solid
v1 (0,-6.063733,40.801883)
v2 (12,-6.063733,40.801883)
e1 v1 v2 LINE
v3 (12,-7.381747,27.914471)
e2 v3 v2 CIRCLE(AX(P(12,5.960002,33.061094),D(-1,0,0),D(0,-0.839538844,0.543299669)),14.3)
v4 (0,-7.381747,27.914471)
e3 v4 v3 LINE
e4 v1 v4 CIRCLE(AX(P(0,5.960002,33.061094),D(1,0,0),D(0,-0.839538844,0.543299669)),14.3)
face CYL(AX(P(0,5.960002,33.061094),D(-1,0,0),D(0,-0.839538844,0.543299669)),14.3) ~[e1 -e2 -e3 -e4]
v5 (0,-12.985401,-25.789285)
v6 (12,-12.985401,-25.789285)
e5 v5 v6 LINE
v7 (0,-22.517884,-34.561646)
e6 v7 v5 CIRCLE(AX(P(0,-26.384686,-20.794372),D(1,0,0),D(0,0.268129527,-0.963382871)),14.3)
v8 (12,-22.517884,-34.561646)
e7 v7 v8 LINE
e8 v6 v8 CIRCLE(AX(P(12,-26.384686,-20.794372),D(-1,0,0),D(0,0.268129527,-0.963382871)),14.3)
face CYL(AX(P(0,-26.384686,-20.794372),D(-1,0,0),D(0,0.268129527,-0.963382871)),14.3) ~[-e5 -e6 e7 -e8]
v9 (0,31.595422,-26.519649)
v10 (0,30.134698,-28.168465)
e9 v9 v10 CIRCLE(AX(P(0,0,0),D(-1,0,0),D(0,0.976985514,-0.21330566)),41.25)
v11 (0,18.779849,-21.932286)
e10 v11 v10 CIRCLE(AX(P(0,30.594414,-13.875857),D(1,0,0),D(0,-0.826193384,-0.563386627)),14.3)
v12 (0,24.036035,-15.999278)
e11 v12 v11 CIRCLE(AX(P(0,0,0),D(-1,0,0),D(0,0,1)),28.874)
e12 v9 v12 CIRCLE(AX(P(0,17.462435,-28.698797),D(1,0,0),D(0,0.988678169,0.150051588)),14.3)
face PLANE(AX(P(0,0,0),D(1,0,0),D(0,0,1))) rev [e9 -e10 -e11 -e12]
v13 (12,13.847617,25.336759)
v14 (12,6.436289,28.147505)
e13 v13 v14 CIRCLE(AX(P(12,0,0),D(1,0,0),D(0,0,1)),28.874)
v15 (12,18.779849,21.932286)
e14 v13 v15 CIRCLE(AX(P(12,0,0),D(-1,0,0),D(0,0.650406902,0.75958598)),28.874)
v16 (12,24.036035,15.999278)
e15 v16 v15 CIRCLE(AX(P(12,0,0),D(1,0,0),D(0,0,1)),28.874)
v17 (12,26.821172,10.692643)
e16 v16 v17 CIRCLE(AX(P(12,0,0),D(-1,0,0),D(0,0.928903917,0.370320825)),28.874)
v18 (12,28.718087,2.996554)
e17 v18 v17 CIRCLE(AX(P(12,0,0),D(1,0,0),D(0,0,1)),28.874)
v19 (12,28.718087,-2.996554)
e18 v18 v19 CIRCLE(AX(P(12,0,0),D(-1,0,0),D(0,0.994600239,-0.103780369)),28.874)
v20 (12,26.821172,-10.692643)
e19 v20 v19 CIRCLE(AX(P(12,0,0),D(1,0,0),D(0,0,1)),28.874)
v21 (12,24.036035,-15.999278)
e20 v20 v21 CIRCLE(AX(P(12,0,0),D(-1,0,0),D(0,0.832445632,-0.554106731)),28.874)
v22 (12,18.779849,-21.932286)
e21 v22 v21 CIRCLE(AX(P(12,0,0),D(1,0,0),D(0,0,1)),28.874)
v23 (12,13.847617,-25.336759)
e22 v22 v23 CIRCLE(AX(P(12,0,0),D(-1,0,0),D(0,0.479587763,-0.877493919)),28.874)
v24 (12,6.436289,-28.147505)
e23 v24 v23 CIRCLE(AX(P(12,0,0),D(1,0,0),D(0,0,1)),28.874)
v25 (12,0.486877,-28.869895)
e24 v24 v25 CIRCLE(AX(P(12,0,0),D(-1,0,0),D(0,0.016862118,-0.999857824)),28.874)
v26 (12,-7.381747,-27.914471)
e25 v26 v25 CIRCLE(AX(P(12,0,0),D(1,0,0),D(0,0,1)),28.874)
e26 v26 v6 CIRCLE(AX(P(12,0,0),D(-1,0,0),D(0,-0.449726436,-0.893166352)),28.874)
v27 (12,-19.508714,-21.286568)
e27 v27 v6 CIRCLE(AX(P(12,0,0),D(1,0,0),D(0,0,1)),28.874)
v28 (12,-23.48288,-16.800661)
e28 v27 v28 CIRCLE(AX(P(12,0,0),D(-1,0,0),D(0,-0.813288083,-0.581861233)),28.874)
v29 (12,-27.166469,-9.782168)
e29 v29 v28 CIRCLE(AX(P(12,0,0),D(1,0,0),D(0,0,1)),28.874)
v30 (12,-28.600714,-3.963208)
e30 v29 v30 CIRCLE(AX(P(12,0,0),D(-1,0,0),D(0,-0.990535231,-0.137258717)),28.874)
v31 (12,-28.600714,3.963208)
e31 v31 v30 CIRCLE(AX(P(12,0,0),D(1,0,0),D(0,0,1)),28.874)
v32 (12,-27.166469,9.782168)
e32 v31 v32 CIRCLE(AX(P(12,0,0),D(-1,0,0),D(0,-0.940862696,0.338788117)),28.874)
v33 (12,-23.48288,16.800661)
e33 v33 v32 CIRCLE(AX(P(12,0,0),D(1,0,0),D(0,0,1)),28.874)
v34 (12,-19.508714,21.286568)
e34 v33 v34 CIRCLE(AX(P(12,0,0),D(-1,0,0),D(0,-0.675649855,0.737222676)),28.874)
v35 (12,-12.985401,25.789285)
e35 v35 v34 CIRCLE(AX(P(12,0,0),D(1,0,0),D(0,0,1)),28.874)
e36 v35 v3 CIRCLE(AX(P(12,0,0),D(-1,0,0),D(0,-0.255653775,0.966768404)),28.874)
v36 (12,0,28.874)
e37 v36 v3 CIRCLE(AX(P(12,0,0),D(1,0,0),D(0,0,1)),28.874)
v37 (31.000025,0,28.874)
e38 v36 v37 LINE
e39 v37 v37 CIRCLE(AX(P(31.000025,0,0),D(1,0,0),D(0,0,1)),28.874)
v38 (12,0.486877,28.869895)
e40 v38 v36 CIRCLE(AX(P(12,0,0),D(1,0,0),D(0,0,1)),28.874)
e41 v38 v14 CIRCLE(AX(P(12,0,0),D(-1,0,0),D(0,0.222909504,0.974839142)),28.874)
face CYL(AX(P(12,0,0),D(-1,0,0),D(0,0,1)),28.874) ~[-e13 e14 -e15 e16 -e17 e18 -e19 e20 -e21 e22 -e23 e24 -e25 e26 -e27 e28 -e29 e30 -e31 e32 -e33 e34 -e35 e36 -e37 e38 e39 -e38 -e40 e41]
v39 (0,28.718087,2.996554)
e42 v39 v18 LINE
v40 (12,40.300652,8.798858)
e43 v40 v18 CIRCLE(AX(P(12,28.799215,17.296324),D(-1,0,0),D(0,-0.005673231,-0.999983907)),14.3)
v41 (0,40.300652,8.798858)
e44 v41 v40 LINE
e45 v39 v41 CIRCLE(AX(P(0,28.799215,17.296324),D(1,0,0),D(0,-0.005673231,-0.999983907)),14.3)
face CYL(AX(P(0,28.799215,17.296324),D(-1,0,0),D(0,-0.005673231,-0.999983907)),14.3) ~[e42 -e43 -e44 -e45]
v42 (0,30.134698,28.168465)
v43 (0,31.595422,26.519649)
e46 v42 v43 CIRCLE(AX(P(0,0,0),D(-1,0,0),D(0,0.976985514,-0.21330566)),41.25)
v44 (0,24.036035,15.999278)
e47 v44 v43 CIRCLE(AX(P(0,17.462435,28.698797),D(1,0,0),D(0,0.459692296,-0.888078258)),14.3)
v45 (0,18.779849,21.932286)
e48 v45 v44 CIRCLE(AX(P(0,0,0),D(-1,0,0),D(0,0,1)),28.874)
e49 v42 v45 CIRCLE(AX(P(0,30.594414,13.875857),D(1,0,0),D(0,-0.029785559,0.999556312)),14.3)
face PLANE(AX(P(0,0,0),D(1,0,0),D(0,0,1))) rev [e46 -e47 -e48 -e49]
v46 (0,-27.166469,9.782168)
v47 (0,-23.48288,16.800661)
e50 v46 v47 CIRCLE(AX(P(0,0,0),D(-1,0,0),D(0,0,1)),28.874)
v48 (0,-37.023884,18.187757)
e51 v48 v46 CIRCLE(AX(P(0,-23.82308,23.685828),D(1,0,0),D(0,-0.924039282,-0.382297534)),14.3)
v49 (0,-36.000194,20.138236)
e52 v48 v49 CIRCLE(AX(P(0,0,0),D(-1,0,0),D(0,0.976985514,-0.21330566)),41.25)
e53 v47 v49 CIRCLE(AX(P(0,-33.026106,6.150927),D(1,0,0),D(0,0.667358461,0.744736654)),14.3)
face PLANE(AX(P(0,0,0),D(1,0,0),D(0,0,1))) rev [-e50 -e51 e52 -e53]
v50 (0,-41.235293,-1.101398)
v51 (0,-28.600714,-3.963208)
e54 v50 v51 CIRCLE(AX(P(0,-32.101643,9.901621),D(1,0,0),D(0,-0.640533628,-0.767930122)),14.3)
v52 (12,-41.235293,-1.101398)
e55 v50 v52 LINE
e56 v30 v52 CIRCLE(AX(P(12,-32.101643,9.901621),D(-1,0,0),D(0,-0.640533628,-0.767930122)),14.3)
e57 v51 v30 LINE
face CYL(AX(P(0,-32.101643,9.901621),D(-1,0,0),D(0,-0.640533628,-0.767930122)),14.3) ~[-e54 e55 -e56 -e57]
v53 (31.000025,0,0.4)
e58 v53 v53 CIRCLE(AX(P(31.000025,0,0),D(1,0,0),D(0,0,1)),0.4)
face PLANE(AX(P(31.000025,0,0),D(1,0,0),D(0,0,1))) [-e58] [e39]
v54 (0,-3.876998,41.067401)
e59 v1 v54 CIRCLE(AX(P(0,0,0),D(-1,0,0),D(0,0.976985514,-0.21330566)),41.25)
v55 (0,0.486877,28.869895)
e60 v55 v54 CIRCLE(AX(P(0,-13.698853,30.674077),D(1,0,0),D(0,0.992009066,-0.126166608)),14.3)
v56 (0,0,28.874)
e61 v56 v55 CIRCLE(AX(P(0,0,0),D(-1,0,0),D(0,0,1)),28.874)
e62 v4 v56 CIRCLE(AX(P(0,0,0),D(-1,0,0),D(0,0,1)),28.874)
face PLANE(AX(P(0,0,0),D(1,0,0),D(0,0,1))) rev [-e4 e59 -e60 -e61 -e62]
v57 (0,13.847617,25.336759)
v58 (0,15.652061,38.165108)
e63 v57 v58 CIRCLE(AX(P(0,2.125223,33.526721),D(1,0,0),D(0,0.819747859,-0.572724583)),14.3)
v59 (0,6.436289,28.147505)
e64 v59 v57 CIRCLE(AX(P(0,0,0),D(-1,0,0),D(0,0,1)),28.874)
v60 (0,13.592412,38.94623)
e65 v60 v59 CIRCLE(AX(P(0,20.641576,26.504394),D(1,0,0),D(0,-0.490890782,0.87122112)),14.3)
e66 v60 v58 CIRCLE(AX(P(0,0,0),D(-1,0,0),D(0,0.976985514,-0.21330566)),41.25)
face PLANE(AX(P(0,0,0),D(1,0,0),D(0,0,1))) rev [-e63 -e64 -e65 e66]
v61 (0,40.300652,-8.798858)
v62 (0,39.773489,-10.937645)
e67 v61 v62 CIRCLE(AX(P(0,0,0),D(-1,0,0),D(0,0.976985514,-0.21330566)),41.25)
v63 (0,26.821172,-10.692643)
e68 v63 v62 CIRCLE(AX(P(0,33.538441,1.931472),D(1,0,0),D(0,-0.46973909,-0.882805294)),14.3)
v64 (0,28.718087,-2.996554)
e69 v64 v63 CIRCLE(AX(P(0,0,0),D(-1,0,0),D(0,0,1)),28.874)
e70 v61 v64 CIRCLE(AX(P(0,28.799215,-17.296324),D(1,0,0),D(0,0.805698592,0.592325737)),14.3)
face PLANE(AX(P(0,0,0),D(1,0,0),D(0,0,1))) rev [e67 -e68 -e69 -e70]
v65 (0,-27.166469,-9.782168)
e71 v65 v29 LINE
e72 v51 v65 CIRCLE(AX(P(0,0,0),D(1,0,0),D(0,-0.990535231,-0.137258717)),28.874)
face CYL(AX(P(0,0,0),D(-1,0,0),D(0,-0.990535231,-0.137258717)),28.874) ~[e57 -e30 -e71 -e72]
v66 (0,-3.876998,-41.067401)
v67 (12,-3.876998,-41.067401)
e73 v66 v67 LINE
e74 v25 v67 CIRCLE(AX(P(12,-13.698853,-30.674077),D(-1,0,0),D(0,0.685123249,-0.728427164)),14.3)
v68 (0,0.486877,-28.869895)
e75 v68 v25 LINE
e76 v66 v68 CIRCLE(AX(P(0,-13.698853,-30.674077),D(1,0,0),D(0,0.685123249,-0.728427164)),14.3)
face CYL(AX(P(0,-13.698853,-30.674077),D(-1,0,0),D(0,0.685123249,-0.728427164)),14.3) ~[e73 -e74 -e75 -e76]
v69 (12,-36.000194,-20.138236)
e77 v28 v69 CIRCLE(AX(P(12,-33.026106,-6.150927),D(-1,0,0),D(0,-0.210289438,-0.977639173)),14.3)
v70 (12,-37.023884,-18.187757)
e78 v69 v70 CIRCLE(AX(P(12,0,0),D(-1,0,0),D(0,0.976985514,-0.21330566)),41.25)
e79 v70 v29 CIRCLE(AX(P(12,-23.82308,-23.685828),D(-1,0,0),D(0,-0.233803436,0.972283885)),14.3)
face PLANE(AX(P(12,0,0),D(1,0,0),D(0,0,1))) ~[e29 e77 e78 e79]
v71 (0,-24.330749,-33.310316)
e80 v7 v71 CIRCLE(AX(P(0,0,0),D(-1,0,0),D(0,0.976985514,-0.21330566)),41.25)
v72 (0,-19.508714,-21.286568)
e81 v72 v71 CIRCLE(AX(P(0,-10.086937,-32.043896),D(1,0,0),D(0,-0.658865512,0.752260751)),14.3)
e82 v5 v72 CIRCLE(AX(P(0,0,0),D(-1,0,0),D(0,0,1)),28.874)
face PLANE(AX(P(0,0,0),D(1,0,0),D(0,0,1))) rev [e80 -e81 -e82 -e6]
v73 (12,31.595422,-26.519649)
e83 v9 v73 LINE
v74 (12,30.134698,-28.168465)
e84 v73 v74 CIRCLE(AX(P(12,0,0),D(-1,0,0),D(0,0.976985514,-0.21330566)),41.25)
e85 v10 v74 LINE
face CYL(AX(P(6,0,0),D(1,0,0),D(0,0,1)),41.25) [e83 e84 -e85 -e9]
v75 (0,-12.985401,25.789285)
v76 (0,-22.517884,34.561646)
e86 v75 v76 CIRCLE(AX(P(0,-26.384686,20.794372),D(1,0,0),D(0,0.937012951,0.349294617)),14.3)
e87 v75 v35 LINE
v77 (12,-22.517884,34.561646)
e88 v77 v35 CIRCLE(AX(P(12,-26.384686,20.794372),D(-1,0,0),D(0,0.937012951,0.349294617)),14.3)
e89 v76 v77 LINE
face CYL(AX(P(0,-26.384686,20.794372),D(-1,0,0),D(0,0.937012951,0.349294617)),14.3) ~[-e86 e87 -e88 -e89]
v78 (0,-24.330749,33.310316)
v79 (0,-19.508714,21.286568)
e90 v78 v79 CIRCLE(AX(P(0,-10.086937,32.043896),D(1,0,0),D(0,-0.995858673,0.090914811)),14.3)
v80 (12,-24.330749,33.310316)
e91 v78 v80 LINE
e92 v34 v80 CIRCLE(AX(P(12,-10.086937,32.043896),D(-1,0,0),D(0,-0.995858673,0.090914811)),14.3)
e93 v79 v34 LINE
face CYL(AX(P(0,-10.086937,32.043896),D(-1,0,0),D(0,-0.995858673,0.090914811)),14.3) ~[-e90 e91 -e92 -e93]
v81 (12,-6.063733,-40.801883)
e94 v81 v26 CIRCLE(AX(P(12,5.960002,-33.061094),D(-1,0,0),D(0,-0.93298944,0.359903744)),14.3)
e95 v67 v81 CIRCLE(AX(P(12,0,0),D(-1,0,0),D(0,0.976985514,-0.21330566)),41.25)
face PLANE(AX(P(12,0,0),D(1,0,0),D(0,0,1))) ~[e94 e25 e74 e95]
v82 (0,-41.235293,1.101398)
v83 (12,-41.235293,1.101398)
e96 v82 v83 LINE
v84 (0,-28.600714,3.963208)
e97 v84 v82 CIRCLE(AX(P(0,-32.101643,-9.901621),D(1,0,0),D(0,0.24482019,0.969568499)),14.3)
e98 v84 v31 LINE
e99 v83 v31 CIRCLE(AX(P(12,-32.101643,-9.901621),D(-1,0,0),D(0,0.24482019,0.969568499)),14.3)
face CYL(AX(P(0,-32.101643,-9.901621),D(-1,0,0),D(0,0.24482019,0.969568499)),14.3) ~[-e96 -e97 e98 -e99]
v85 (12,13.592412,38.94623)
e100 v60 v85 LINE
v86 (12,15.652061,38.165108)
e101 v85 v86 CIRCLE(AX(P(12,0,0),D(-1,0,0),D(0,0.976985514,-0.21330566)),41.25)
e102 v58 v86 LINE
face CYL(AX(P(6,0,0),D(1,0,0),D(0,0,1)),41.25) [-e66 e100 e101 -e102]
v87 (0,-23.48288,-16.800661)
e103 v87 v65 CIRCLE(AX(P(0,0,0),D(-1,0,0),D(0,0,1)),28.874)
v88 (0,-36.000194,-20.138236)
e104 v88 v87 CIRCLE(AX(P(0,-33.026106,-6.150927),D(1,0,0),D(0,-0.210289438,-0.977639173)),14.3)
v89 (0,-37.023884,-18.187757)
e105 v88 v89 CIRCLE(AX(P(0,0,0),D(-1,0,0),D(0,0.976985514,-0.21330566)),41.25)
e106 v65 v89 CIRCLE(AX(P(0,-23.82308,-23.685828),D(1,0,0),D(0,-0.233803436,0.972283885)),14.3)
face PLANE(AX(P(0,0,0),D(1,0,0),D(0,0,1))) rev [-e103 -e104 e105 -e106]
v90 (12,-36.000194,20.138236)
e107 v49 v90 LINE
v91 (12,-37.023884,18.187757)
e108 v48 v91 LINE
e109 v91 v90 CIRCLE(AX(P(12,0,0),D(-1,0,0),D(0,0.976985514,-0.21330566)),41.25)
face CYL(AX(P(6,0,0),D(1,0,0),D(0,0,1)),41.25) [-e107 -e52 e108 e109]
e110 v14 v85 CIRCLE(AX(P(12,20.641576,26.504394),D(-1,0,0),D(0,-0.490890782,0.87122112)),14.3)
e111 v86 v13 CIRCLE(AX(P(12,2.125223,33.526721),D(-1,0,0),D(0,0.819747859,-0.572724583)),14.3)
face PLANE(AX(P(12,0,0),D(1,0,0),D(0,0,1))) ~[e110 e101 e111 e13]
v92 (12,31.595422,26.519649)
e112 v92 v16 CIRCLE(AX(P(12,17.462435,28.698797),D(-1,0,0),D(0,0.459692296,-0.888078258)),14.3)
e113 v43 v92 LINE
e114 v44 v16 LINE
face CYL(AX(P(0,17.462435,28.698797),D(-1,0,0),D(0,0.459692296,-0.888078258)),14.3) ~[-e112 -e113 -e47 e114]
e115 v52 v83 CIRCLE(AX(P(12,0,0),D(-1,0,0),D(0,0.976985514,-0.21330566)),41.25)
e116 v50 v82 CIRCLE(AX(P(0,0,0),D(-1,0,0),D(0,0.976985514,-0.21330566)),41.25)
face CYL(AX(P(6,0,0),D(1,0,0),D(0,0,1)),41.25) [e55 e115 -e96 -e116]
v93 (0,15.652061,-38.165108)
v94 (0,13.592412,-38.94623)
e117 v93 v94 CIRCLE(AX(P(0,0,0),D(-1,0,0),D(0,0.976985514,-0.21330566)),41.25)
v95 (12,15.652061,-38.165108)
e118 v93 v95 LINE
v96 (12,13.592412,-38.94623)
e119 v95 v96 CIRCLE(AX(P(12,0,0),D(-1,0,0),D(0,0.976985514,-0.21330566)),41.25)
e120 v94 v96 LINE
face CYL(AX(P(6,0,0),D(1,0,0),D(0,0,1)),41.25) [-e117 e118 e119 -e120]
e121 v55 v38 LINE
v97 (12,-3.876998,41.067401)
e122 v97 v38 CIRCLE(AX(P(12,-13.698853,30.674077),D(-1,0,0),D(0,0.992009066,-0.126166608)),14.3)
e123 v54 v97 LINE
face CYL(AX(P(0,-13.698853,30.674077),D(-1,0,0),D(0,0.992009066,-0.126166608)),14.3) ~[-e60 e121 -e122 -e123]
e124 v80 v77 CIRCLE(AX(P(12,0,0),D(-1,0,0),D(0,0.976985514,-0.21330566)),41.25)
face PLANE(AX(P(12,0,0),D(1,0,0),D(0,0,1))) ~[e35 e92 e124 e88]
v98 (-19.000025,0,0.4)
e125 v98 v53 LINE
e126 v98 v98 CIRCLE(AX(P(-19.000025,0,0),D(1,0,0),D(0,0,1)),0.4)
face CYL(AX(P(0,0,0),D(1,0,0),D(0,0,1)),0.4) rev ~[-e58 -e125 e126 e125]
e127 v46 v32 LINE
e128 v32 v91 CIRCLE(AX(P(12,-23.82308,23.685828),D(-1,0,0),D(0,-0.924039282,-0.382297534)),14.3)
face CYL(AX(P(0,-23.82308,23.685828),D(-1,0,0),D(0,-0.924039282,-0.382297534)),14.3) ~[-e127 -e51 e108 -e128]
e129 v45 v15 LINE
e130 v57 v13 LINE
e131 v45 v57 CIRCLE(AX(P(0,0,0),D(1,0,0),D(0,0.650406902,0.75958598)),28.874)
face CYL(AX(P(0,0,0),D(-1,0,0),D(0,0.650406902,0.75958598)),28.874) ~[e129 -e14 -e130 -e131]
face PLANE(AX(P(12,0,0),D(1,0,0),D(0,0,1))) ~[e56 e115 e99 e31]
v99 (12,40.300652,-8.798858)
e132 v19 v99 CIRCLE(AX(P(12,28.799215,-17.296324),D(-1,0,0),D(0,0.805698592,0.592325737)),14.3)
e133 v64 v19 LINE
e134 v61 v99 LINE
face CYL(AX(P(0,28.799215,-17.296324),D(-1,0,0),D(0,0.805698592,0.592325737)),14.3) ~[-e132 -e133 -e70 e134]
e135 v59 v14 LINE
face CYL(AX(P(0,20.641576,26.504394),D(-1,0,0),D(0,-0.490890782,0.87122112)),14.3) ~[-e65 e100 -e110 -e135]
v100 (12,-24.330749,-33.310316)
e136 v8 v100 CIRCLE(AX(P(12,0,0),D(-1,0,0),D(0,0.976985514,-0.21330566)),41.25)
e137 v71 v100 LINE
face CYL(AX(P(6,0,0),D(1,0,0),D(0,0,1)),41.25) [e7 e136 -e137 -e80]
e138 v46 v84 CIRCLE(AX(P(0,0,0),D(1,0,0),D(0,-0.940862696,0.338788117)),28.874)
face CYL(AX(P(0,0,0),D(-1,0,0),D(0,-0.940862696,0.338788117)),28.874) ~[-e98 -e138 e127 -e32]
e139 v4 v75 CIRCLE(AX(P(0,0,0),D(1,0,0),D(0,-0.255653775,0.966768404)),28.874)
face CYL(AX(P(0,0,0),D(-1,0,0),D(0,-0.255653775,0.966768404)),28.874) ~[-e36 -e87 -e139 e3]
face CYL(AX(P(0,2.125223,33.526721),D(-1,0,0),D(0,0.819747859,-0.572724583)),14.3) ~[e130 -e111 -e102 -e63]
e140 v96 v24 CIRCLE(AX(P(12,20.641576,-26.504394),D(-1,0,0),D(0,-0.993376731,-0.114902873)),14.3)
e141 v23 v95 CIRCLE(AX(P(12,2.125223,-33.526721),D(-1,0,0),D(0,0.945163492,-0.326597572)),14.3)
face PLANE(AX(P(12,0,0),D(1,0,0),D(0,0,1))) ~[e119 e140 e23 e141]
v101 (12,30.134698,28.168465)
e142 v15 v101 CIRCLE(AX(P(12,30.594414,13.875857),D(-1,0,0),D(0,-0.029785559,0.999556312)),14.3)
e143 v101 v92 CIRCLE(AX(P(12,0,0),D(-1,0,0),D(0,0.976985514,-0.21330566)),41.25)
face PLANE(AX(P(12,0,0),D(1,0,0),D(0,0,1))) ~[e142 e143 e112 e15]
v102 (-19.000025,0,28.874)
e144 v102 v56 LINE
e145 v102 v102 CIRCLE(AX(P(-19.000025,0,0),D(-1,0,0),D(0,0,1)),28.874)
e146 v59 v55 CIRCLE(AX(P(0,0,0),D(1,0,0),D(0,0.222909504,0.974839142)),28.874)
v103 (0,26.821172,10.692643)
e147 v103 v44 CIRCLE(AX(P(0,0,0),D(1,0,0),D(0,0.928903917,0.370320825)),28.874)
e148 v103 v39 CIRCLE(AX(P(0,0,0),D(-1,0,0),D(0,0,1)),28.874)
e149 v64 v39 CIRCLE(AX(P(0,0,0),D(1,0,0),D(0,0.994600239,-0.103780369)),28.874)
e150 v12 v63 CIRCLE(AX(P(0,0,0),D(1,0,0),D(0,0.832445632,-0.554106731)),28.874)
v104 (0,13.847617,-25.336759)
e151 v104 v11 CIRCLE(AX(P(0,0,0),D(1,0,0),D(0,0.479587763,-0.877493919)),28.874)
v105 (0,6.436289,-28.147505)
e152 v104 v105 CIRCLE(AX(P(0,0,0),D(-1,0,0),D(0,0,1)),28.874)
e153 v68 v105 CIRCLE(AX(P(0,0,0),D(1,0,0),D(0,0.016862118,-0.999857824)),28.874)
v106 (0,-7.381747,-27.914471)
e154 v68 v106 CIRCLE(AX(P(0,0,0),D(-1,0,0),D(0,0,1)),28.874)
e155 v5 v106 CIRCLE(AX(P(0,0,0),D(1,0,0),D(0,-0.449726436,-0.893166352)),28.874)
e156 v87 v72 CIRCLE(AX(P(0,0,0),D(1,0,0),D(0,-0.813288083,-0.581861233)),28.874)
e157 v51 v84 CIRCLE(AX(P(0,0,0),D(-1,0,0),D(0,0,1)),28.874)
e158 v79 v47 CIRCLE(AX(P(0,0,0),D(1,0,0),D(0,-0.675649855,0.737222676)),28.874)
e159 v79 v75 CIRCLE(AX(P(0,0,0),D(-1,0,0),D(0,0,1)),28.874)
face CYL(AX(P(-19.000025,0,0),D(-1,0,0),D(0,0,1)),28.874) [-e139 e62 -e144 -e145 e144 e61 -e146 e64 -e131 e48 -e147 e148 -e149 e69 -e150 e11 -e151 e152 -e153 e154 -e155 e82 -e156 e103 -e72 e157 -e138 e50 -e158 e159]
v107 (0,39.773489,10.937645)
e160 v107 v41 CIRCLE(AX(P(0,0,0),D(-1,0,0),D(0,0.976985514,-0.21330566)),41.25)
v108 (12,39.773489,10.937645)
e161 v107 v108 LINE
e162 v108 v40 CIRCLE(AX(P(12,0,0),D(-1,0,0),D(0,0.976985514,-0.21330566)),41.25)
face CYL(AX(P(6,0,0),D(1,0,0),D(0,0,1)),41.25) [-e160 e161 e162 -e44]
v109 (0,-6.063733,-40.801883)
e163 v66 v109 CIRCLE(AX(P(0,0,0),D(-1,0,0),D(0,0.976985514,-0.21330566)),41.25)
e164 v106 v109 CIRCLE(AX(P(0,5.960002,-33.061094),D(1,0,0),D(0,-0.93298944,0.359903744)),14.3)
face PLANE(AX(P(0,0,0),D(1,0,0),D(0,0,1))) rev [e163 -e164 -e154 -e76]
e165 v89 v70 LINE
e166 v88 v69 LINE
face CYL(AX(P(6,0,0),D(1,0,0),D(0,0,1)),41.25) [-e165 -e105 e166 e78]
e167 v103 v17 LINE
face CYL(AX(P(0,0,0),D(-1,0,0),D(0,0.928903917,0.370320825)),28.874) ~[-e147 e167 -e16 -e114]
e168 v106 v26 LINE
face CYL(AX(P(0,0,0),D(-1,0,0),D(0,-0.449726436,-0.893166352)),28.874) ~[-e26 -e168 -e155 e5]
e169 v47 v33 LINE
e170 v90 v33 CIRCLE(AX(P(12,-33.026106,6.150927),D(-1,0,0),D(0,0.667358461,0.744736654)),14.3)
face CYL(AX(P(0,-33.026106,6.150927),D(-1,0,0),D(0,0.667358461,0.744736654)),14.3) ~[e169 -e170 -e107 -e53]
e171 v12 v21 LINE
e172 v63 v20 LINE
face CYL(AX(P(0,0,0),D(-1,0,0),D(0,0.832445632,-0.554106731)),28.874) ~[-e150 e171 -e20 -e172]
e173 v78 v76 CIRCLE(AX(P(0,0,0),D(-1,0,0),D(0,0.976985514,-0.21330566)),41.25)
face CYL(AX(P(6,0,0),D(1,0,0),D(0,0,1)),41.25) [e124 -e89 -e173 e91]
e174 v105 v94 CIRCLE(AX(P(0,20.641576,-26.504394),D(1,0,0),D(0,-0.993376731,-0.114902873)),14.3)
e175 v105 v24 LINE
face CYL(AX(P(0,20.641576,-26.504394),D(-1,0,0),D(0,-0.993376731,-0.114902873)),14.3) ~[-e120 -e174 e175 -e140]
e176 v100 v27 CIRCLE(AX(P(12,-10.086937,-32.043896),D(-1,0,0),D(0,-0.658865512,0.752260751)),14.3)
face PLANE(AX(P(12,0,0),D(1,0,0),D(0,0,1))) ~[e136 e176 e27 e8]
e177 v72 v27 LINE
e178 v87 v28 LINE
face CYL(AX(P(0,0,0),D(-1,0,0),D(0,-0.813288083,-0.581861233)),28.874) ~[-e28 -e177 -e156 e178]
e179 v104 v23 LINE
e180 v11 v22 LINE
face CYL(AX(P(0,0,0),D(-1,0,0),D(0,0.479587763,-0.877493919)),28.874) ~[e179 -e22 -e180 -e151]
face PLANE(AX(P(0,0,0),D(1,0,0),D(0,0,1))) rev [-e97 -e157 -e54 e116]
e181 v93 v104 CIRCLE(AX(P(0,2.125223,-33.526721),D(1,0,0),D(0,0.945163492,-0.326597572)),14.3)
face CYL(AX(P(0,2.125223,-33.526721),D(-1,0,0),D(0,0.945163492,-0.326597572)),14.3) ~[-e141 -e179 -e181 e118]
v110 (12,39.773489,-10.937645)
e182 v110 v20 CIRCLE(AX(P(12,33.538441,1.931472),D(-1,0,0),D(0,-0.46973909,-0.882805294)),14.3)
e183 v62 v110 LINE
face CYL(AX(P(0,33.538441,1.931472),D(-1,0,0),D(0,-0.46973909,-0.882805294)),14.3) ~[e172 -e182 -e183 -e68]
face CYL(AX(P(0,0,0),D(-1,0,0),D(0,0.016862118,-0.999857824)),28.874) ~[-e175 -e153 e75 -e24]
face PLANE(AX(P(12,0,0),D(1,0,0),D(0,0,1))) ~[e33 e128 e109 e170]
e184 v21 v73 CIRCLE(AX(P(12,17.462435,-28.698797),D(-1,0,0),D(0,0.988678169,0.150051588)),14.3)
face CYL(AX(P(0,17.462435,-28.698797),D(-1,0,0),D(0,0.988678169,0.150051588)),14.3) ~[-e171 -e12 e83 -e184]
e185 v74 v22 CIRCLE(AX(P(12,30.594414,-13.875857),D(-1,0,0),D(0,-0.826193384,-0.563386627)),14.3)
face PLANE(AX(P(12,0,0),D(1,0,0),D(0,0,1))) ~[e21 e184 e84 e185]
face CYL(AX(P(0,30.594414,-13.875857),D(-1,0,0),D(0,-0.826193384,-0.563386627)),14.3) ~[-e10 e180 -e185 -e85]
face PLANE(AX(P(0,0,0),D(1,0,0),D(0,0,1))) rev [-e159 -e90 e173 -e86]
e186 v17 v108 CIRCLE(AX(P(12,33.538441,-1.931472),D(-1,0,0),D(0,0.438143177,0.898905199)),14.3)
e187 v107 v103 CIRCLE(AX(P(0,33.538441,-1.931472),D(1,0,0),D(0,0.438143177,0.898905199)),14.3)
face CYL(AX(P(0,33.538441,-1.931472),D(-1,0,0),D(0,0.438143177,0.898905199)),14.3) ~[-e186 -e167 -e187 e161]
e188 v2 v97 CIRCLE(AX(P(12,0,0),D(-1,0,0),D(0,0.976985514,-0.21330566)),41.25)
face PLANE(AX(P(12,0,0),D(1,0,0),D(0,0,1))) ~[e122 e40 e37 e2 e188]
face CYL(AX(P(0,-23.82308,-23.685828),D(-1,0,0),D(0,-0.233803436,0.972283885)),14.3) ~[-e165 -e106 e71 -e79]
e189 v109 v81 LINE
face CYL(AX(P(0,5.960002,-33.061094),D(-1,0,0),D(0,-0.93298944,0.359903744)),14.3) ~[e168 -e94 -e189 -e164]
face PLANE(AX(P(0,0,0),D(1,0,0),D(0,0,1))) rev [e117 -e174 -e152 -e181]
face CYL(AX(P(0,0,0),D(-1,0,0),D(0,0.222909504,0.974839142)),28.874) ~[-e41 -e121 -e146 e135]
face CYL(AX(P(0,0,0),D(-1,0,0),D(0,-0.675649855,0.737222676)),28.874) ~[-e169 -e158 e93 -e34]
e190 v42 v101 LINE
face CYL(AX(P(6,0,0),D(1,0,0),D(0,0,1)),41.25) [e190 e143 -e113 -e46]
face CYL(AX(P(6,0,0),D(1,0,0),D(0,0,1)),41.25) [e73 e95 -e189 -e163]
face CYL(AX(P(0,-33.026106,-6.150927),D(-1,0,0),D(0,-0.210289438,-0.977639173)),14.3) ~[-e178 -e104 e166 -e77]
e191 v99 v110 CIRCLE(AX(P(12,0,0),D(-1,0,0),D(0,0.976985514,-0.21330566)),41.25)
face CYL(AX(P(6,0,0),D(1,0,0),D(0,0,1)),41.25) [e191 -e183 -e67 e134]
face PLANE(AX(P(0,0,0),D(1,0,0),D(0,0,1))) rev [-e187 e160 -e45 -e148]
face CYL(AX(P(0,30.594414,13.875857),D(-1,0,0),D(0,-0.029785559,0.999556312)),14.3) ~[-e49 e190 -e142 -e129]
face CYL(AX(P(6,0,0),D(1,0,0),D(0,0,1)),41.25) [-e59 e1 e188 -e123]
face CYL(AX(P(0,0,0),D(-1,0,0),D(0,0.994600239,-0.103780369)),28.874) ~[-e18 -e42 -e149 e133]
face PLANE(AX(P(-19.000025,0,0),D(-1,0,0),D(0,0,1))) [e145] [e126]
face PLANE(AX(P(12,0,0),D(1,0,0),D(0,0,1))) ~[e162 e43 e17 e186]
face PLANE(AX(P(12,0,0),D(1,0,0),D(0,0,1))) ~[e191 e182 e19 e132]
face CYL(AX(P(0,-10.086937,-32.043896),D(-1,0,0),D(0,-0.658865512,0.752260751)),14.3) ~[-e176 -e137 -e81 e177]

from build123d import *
from build123d.topology import SkipClean

# Parameters (mm, degrees)
BASPROSKE_W       = 12
BASPROSKE_H       = 41.25
TOOTHCUT_DEPTH    = 60.557745088
TEETHCUTS_COUNT   = 13
TEETHCUTS_ANGLE   = 332.307692308
HUBNEARBOTH_START = 19.0000254
HUBNEABOTSKE_R    = 28.874
HUBNEARBOTH_DEPTH = 19.0000254
HUBFARSKE_R       = 28.874
HUBFAR_DEPTH      = 19.0000254
BORSKE_R          = 0.4
BORE_DEPTH        = 50.0000508


with BuildPart() as part:
    # BasProSke → Base-Revolve (revolve)
    with BuildSketch(Plane(origin=(0, 0, 0), x_dir=(1, 0, 0), z_dir=(0, 1, 0)), mode=Mode.PRIVATE) as base_revolve_sk:
        with Locations((6, 20.625)):
            Rectangle(BASPROSKE_W, BASPROSKE_H)
    revolve(base_revolve_sk.sketch.rotate(Axis((-10, 0, 0), (1, 0, 0)), 180), axis=Axis((-10, 0, 0), (1, 0, 0)))

    # TooCutSke → ToothCut (cut, through all)
    with BuildSketch(Plane(origin=(0, 0, 0), x_dir=(0, 0, -1), z_dir=(1, 0, 0))):
        with BuildLine():
            ThreePointArc((2.996554373, 28.718087295), (0, 28.874), (-2.996554373, 28.718087295))
            ThreePointArc((-2.996554373, 28.718087295), (-4.518463565, 35.219204881), (-8.8260662, 40.320704366))
            ThreePointArc((-8.8260662, 40.320704366), (0, 41.2754), (8.8260662, 40.320704366))
            ThreePointArc((8.8260662, 40.320704366), (4.518463565, 35.219204881), (2.996554373, 28.718087295))
        make_face()
    toothcut = extrude(amount=TOOTHCUT_DEPTH, mode=Mode.SUBTRACT)

    # TeethCuts: ToothCut ×13 about axis
    teethcuts_axis = Axis((-10, 0, 0), (1, 0, 0))
    for i in range(1, TEETHCUTS_COUNT):
        add(toothcut.rotate(teethcuts_axis, i * TEETHCUTS_ANGLE / (TEETHCUTS_COUNT - 1)), mode=Mode.SUBTRACT)

    # HubNeaBotSke → HubNearBoth (add)
    with SkipClean():  # the faces are left unmerged after this step: merging them gives an invalid solid
        with BuildSketch(Plane.ZY.offset(HUBNEARBOTH_START)):
            Circle(HUBNEABOTSKE_R)
        extrude(amount=-HUBNEARBOTH_DEPTH)

    # HubFarSke → HubFar (add)
    with SkipClean():  # the faces are left unmerged after this step: merging them gives an invalid solid
        with BuildSketch(Plane(origin=(12, 0, 0), x_dir=(0, 0, -1), z_dir=(1, 0, 0))):
            with Locations(Location((0, 0, 0), (0, 0, 180))):
                Circle(HUBFARSKE_R)
        extrude(amount=HUBFAR_DEPTH)

    # BorSke → Bore (cut, symmetric)
    with SkipClean():  # the faces are left unmerged after this step: merging them gives an invalid solid
        with BuildSketch(Plane(origin=(0, 0, 0), x_dir=(0, 0, -1), z_dir=(1, 0, 0))):
            with Locations(Location((0, 0, 0), (0, 0, 180))):
                Circle(BORSKE_R)
        extrude(amount=BORE_DEPTH, both=True, mode=Mode.SUBTRACT)


solid = part.part
